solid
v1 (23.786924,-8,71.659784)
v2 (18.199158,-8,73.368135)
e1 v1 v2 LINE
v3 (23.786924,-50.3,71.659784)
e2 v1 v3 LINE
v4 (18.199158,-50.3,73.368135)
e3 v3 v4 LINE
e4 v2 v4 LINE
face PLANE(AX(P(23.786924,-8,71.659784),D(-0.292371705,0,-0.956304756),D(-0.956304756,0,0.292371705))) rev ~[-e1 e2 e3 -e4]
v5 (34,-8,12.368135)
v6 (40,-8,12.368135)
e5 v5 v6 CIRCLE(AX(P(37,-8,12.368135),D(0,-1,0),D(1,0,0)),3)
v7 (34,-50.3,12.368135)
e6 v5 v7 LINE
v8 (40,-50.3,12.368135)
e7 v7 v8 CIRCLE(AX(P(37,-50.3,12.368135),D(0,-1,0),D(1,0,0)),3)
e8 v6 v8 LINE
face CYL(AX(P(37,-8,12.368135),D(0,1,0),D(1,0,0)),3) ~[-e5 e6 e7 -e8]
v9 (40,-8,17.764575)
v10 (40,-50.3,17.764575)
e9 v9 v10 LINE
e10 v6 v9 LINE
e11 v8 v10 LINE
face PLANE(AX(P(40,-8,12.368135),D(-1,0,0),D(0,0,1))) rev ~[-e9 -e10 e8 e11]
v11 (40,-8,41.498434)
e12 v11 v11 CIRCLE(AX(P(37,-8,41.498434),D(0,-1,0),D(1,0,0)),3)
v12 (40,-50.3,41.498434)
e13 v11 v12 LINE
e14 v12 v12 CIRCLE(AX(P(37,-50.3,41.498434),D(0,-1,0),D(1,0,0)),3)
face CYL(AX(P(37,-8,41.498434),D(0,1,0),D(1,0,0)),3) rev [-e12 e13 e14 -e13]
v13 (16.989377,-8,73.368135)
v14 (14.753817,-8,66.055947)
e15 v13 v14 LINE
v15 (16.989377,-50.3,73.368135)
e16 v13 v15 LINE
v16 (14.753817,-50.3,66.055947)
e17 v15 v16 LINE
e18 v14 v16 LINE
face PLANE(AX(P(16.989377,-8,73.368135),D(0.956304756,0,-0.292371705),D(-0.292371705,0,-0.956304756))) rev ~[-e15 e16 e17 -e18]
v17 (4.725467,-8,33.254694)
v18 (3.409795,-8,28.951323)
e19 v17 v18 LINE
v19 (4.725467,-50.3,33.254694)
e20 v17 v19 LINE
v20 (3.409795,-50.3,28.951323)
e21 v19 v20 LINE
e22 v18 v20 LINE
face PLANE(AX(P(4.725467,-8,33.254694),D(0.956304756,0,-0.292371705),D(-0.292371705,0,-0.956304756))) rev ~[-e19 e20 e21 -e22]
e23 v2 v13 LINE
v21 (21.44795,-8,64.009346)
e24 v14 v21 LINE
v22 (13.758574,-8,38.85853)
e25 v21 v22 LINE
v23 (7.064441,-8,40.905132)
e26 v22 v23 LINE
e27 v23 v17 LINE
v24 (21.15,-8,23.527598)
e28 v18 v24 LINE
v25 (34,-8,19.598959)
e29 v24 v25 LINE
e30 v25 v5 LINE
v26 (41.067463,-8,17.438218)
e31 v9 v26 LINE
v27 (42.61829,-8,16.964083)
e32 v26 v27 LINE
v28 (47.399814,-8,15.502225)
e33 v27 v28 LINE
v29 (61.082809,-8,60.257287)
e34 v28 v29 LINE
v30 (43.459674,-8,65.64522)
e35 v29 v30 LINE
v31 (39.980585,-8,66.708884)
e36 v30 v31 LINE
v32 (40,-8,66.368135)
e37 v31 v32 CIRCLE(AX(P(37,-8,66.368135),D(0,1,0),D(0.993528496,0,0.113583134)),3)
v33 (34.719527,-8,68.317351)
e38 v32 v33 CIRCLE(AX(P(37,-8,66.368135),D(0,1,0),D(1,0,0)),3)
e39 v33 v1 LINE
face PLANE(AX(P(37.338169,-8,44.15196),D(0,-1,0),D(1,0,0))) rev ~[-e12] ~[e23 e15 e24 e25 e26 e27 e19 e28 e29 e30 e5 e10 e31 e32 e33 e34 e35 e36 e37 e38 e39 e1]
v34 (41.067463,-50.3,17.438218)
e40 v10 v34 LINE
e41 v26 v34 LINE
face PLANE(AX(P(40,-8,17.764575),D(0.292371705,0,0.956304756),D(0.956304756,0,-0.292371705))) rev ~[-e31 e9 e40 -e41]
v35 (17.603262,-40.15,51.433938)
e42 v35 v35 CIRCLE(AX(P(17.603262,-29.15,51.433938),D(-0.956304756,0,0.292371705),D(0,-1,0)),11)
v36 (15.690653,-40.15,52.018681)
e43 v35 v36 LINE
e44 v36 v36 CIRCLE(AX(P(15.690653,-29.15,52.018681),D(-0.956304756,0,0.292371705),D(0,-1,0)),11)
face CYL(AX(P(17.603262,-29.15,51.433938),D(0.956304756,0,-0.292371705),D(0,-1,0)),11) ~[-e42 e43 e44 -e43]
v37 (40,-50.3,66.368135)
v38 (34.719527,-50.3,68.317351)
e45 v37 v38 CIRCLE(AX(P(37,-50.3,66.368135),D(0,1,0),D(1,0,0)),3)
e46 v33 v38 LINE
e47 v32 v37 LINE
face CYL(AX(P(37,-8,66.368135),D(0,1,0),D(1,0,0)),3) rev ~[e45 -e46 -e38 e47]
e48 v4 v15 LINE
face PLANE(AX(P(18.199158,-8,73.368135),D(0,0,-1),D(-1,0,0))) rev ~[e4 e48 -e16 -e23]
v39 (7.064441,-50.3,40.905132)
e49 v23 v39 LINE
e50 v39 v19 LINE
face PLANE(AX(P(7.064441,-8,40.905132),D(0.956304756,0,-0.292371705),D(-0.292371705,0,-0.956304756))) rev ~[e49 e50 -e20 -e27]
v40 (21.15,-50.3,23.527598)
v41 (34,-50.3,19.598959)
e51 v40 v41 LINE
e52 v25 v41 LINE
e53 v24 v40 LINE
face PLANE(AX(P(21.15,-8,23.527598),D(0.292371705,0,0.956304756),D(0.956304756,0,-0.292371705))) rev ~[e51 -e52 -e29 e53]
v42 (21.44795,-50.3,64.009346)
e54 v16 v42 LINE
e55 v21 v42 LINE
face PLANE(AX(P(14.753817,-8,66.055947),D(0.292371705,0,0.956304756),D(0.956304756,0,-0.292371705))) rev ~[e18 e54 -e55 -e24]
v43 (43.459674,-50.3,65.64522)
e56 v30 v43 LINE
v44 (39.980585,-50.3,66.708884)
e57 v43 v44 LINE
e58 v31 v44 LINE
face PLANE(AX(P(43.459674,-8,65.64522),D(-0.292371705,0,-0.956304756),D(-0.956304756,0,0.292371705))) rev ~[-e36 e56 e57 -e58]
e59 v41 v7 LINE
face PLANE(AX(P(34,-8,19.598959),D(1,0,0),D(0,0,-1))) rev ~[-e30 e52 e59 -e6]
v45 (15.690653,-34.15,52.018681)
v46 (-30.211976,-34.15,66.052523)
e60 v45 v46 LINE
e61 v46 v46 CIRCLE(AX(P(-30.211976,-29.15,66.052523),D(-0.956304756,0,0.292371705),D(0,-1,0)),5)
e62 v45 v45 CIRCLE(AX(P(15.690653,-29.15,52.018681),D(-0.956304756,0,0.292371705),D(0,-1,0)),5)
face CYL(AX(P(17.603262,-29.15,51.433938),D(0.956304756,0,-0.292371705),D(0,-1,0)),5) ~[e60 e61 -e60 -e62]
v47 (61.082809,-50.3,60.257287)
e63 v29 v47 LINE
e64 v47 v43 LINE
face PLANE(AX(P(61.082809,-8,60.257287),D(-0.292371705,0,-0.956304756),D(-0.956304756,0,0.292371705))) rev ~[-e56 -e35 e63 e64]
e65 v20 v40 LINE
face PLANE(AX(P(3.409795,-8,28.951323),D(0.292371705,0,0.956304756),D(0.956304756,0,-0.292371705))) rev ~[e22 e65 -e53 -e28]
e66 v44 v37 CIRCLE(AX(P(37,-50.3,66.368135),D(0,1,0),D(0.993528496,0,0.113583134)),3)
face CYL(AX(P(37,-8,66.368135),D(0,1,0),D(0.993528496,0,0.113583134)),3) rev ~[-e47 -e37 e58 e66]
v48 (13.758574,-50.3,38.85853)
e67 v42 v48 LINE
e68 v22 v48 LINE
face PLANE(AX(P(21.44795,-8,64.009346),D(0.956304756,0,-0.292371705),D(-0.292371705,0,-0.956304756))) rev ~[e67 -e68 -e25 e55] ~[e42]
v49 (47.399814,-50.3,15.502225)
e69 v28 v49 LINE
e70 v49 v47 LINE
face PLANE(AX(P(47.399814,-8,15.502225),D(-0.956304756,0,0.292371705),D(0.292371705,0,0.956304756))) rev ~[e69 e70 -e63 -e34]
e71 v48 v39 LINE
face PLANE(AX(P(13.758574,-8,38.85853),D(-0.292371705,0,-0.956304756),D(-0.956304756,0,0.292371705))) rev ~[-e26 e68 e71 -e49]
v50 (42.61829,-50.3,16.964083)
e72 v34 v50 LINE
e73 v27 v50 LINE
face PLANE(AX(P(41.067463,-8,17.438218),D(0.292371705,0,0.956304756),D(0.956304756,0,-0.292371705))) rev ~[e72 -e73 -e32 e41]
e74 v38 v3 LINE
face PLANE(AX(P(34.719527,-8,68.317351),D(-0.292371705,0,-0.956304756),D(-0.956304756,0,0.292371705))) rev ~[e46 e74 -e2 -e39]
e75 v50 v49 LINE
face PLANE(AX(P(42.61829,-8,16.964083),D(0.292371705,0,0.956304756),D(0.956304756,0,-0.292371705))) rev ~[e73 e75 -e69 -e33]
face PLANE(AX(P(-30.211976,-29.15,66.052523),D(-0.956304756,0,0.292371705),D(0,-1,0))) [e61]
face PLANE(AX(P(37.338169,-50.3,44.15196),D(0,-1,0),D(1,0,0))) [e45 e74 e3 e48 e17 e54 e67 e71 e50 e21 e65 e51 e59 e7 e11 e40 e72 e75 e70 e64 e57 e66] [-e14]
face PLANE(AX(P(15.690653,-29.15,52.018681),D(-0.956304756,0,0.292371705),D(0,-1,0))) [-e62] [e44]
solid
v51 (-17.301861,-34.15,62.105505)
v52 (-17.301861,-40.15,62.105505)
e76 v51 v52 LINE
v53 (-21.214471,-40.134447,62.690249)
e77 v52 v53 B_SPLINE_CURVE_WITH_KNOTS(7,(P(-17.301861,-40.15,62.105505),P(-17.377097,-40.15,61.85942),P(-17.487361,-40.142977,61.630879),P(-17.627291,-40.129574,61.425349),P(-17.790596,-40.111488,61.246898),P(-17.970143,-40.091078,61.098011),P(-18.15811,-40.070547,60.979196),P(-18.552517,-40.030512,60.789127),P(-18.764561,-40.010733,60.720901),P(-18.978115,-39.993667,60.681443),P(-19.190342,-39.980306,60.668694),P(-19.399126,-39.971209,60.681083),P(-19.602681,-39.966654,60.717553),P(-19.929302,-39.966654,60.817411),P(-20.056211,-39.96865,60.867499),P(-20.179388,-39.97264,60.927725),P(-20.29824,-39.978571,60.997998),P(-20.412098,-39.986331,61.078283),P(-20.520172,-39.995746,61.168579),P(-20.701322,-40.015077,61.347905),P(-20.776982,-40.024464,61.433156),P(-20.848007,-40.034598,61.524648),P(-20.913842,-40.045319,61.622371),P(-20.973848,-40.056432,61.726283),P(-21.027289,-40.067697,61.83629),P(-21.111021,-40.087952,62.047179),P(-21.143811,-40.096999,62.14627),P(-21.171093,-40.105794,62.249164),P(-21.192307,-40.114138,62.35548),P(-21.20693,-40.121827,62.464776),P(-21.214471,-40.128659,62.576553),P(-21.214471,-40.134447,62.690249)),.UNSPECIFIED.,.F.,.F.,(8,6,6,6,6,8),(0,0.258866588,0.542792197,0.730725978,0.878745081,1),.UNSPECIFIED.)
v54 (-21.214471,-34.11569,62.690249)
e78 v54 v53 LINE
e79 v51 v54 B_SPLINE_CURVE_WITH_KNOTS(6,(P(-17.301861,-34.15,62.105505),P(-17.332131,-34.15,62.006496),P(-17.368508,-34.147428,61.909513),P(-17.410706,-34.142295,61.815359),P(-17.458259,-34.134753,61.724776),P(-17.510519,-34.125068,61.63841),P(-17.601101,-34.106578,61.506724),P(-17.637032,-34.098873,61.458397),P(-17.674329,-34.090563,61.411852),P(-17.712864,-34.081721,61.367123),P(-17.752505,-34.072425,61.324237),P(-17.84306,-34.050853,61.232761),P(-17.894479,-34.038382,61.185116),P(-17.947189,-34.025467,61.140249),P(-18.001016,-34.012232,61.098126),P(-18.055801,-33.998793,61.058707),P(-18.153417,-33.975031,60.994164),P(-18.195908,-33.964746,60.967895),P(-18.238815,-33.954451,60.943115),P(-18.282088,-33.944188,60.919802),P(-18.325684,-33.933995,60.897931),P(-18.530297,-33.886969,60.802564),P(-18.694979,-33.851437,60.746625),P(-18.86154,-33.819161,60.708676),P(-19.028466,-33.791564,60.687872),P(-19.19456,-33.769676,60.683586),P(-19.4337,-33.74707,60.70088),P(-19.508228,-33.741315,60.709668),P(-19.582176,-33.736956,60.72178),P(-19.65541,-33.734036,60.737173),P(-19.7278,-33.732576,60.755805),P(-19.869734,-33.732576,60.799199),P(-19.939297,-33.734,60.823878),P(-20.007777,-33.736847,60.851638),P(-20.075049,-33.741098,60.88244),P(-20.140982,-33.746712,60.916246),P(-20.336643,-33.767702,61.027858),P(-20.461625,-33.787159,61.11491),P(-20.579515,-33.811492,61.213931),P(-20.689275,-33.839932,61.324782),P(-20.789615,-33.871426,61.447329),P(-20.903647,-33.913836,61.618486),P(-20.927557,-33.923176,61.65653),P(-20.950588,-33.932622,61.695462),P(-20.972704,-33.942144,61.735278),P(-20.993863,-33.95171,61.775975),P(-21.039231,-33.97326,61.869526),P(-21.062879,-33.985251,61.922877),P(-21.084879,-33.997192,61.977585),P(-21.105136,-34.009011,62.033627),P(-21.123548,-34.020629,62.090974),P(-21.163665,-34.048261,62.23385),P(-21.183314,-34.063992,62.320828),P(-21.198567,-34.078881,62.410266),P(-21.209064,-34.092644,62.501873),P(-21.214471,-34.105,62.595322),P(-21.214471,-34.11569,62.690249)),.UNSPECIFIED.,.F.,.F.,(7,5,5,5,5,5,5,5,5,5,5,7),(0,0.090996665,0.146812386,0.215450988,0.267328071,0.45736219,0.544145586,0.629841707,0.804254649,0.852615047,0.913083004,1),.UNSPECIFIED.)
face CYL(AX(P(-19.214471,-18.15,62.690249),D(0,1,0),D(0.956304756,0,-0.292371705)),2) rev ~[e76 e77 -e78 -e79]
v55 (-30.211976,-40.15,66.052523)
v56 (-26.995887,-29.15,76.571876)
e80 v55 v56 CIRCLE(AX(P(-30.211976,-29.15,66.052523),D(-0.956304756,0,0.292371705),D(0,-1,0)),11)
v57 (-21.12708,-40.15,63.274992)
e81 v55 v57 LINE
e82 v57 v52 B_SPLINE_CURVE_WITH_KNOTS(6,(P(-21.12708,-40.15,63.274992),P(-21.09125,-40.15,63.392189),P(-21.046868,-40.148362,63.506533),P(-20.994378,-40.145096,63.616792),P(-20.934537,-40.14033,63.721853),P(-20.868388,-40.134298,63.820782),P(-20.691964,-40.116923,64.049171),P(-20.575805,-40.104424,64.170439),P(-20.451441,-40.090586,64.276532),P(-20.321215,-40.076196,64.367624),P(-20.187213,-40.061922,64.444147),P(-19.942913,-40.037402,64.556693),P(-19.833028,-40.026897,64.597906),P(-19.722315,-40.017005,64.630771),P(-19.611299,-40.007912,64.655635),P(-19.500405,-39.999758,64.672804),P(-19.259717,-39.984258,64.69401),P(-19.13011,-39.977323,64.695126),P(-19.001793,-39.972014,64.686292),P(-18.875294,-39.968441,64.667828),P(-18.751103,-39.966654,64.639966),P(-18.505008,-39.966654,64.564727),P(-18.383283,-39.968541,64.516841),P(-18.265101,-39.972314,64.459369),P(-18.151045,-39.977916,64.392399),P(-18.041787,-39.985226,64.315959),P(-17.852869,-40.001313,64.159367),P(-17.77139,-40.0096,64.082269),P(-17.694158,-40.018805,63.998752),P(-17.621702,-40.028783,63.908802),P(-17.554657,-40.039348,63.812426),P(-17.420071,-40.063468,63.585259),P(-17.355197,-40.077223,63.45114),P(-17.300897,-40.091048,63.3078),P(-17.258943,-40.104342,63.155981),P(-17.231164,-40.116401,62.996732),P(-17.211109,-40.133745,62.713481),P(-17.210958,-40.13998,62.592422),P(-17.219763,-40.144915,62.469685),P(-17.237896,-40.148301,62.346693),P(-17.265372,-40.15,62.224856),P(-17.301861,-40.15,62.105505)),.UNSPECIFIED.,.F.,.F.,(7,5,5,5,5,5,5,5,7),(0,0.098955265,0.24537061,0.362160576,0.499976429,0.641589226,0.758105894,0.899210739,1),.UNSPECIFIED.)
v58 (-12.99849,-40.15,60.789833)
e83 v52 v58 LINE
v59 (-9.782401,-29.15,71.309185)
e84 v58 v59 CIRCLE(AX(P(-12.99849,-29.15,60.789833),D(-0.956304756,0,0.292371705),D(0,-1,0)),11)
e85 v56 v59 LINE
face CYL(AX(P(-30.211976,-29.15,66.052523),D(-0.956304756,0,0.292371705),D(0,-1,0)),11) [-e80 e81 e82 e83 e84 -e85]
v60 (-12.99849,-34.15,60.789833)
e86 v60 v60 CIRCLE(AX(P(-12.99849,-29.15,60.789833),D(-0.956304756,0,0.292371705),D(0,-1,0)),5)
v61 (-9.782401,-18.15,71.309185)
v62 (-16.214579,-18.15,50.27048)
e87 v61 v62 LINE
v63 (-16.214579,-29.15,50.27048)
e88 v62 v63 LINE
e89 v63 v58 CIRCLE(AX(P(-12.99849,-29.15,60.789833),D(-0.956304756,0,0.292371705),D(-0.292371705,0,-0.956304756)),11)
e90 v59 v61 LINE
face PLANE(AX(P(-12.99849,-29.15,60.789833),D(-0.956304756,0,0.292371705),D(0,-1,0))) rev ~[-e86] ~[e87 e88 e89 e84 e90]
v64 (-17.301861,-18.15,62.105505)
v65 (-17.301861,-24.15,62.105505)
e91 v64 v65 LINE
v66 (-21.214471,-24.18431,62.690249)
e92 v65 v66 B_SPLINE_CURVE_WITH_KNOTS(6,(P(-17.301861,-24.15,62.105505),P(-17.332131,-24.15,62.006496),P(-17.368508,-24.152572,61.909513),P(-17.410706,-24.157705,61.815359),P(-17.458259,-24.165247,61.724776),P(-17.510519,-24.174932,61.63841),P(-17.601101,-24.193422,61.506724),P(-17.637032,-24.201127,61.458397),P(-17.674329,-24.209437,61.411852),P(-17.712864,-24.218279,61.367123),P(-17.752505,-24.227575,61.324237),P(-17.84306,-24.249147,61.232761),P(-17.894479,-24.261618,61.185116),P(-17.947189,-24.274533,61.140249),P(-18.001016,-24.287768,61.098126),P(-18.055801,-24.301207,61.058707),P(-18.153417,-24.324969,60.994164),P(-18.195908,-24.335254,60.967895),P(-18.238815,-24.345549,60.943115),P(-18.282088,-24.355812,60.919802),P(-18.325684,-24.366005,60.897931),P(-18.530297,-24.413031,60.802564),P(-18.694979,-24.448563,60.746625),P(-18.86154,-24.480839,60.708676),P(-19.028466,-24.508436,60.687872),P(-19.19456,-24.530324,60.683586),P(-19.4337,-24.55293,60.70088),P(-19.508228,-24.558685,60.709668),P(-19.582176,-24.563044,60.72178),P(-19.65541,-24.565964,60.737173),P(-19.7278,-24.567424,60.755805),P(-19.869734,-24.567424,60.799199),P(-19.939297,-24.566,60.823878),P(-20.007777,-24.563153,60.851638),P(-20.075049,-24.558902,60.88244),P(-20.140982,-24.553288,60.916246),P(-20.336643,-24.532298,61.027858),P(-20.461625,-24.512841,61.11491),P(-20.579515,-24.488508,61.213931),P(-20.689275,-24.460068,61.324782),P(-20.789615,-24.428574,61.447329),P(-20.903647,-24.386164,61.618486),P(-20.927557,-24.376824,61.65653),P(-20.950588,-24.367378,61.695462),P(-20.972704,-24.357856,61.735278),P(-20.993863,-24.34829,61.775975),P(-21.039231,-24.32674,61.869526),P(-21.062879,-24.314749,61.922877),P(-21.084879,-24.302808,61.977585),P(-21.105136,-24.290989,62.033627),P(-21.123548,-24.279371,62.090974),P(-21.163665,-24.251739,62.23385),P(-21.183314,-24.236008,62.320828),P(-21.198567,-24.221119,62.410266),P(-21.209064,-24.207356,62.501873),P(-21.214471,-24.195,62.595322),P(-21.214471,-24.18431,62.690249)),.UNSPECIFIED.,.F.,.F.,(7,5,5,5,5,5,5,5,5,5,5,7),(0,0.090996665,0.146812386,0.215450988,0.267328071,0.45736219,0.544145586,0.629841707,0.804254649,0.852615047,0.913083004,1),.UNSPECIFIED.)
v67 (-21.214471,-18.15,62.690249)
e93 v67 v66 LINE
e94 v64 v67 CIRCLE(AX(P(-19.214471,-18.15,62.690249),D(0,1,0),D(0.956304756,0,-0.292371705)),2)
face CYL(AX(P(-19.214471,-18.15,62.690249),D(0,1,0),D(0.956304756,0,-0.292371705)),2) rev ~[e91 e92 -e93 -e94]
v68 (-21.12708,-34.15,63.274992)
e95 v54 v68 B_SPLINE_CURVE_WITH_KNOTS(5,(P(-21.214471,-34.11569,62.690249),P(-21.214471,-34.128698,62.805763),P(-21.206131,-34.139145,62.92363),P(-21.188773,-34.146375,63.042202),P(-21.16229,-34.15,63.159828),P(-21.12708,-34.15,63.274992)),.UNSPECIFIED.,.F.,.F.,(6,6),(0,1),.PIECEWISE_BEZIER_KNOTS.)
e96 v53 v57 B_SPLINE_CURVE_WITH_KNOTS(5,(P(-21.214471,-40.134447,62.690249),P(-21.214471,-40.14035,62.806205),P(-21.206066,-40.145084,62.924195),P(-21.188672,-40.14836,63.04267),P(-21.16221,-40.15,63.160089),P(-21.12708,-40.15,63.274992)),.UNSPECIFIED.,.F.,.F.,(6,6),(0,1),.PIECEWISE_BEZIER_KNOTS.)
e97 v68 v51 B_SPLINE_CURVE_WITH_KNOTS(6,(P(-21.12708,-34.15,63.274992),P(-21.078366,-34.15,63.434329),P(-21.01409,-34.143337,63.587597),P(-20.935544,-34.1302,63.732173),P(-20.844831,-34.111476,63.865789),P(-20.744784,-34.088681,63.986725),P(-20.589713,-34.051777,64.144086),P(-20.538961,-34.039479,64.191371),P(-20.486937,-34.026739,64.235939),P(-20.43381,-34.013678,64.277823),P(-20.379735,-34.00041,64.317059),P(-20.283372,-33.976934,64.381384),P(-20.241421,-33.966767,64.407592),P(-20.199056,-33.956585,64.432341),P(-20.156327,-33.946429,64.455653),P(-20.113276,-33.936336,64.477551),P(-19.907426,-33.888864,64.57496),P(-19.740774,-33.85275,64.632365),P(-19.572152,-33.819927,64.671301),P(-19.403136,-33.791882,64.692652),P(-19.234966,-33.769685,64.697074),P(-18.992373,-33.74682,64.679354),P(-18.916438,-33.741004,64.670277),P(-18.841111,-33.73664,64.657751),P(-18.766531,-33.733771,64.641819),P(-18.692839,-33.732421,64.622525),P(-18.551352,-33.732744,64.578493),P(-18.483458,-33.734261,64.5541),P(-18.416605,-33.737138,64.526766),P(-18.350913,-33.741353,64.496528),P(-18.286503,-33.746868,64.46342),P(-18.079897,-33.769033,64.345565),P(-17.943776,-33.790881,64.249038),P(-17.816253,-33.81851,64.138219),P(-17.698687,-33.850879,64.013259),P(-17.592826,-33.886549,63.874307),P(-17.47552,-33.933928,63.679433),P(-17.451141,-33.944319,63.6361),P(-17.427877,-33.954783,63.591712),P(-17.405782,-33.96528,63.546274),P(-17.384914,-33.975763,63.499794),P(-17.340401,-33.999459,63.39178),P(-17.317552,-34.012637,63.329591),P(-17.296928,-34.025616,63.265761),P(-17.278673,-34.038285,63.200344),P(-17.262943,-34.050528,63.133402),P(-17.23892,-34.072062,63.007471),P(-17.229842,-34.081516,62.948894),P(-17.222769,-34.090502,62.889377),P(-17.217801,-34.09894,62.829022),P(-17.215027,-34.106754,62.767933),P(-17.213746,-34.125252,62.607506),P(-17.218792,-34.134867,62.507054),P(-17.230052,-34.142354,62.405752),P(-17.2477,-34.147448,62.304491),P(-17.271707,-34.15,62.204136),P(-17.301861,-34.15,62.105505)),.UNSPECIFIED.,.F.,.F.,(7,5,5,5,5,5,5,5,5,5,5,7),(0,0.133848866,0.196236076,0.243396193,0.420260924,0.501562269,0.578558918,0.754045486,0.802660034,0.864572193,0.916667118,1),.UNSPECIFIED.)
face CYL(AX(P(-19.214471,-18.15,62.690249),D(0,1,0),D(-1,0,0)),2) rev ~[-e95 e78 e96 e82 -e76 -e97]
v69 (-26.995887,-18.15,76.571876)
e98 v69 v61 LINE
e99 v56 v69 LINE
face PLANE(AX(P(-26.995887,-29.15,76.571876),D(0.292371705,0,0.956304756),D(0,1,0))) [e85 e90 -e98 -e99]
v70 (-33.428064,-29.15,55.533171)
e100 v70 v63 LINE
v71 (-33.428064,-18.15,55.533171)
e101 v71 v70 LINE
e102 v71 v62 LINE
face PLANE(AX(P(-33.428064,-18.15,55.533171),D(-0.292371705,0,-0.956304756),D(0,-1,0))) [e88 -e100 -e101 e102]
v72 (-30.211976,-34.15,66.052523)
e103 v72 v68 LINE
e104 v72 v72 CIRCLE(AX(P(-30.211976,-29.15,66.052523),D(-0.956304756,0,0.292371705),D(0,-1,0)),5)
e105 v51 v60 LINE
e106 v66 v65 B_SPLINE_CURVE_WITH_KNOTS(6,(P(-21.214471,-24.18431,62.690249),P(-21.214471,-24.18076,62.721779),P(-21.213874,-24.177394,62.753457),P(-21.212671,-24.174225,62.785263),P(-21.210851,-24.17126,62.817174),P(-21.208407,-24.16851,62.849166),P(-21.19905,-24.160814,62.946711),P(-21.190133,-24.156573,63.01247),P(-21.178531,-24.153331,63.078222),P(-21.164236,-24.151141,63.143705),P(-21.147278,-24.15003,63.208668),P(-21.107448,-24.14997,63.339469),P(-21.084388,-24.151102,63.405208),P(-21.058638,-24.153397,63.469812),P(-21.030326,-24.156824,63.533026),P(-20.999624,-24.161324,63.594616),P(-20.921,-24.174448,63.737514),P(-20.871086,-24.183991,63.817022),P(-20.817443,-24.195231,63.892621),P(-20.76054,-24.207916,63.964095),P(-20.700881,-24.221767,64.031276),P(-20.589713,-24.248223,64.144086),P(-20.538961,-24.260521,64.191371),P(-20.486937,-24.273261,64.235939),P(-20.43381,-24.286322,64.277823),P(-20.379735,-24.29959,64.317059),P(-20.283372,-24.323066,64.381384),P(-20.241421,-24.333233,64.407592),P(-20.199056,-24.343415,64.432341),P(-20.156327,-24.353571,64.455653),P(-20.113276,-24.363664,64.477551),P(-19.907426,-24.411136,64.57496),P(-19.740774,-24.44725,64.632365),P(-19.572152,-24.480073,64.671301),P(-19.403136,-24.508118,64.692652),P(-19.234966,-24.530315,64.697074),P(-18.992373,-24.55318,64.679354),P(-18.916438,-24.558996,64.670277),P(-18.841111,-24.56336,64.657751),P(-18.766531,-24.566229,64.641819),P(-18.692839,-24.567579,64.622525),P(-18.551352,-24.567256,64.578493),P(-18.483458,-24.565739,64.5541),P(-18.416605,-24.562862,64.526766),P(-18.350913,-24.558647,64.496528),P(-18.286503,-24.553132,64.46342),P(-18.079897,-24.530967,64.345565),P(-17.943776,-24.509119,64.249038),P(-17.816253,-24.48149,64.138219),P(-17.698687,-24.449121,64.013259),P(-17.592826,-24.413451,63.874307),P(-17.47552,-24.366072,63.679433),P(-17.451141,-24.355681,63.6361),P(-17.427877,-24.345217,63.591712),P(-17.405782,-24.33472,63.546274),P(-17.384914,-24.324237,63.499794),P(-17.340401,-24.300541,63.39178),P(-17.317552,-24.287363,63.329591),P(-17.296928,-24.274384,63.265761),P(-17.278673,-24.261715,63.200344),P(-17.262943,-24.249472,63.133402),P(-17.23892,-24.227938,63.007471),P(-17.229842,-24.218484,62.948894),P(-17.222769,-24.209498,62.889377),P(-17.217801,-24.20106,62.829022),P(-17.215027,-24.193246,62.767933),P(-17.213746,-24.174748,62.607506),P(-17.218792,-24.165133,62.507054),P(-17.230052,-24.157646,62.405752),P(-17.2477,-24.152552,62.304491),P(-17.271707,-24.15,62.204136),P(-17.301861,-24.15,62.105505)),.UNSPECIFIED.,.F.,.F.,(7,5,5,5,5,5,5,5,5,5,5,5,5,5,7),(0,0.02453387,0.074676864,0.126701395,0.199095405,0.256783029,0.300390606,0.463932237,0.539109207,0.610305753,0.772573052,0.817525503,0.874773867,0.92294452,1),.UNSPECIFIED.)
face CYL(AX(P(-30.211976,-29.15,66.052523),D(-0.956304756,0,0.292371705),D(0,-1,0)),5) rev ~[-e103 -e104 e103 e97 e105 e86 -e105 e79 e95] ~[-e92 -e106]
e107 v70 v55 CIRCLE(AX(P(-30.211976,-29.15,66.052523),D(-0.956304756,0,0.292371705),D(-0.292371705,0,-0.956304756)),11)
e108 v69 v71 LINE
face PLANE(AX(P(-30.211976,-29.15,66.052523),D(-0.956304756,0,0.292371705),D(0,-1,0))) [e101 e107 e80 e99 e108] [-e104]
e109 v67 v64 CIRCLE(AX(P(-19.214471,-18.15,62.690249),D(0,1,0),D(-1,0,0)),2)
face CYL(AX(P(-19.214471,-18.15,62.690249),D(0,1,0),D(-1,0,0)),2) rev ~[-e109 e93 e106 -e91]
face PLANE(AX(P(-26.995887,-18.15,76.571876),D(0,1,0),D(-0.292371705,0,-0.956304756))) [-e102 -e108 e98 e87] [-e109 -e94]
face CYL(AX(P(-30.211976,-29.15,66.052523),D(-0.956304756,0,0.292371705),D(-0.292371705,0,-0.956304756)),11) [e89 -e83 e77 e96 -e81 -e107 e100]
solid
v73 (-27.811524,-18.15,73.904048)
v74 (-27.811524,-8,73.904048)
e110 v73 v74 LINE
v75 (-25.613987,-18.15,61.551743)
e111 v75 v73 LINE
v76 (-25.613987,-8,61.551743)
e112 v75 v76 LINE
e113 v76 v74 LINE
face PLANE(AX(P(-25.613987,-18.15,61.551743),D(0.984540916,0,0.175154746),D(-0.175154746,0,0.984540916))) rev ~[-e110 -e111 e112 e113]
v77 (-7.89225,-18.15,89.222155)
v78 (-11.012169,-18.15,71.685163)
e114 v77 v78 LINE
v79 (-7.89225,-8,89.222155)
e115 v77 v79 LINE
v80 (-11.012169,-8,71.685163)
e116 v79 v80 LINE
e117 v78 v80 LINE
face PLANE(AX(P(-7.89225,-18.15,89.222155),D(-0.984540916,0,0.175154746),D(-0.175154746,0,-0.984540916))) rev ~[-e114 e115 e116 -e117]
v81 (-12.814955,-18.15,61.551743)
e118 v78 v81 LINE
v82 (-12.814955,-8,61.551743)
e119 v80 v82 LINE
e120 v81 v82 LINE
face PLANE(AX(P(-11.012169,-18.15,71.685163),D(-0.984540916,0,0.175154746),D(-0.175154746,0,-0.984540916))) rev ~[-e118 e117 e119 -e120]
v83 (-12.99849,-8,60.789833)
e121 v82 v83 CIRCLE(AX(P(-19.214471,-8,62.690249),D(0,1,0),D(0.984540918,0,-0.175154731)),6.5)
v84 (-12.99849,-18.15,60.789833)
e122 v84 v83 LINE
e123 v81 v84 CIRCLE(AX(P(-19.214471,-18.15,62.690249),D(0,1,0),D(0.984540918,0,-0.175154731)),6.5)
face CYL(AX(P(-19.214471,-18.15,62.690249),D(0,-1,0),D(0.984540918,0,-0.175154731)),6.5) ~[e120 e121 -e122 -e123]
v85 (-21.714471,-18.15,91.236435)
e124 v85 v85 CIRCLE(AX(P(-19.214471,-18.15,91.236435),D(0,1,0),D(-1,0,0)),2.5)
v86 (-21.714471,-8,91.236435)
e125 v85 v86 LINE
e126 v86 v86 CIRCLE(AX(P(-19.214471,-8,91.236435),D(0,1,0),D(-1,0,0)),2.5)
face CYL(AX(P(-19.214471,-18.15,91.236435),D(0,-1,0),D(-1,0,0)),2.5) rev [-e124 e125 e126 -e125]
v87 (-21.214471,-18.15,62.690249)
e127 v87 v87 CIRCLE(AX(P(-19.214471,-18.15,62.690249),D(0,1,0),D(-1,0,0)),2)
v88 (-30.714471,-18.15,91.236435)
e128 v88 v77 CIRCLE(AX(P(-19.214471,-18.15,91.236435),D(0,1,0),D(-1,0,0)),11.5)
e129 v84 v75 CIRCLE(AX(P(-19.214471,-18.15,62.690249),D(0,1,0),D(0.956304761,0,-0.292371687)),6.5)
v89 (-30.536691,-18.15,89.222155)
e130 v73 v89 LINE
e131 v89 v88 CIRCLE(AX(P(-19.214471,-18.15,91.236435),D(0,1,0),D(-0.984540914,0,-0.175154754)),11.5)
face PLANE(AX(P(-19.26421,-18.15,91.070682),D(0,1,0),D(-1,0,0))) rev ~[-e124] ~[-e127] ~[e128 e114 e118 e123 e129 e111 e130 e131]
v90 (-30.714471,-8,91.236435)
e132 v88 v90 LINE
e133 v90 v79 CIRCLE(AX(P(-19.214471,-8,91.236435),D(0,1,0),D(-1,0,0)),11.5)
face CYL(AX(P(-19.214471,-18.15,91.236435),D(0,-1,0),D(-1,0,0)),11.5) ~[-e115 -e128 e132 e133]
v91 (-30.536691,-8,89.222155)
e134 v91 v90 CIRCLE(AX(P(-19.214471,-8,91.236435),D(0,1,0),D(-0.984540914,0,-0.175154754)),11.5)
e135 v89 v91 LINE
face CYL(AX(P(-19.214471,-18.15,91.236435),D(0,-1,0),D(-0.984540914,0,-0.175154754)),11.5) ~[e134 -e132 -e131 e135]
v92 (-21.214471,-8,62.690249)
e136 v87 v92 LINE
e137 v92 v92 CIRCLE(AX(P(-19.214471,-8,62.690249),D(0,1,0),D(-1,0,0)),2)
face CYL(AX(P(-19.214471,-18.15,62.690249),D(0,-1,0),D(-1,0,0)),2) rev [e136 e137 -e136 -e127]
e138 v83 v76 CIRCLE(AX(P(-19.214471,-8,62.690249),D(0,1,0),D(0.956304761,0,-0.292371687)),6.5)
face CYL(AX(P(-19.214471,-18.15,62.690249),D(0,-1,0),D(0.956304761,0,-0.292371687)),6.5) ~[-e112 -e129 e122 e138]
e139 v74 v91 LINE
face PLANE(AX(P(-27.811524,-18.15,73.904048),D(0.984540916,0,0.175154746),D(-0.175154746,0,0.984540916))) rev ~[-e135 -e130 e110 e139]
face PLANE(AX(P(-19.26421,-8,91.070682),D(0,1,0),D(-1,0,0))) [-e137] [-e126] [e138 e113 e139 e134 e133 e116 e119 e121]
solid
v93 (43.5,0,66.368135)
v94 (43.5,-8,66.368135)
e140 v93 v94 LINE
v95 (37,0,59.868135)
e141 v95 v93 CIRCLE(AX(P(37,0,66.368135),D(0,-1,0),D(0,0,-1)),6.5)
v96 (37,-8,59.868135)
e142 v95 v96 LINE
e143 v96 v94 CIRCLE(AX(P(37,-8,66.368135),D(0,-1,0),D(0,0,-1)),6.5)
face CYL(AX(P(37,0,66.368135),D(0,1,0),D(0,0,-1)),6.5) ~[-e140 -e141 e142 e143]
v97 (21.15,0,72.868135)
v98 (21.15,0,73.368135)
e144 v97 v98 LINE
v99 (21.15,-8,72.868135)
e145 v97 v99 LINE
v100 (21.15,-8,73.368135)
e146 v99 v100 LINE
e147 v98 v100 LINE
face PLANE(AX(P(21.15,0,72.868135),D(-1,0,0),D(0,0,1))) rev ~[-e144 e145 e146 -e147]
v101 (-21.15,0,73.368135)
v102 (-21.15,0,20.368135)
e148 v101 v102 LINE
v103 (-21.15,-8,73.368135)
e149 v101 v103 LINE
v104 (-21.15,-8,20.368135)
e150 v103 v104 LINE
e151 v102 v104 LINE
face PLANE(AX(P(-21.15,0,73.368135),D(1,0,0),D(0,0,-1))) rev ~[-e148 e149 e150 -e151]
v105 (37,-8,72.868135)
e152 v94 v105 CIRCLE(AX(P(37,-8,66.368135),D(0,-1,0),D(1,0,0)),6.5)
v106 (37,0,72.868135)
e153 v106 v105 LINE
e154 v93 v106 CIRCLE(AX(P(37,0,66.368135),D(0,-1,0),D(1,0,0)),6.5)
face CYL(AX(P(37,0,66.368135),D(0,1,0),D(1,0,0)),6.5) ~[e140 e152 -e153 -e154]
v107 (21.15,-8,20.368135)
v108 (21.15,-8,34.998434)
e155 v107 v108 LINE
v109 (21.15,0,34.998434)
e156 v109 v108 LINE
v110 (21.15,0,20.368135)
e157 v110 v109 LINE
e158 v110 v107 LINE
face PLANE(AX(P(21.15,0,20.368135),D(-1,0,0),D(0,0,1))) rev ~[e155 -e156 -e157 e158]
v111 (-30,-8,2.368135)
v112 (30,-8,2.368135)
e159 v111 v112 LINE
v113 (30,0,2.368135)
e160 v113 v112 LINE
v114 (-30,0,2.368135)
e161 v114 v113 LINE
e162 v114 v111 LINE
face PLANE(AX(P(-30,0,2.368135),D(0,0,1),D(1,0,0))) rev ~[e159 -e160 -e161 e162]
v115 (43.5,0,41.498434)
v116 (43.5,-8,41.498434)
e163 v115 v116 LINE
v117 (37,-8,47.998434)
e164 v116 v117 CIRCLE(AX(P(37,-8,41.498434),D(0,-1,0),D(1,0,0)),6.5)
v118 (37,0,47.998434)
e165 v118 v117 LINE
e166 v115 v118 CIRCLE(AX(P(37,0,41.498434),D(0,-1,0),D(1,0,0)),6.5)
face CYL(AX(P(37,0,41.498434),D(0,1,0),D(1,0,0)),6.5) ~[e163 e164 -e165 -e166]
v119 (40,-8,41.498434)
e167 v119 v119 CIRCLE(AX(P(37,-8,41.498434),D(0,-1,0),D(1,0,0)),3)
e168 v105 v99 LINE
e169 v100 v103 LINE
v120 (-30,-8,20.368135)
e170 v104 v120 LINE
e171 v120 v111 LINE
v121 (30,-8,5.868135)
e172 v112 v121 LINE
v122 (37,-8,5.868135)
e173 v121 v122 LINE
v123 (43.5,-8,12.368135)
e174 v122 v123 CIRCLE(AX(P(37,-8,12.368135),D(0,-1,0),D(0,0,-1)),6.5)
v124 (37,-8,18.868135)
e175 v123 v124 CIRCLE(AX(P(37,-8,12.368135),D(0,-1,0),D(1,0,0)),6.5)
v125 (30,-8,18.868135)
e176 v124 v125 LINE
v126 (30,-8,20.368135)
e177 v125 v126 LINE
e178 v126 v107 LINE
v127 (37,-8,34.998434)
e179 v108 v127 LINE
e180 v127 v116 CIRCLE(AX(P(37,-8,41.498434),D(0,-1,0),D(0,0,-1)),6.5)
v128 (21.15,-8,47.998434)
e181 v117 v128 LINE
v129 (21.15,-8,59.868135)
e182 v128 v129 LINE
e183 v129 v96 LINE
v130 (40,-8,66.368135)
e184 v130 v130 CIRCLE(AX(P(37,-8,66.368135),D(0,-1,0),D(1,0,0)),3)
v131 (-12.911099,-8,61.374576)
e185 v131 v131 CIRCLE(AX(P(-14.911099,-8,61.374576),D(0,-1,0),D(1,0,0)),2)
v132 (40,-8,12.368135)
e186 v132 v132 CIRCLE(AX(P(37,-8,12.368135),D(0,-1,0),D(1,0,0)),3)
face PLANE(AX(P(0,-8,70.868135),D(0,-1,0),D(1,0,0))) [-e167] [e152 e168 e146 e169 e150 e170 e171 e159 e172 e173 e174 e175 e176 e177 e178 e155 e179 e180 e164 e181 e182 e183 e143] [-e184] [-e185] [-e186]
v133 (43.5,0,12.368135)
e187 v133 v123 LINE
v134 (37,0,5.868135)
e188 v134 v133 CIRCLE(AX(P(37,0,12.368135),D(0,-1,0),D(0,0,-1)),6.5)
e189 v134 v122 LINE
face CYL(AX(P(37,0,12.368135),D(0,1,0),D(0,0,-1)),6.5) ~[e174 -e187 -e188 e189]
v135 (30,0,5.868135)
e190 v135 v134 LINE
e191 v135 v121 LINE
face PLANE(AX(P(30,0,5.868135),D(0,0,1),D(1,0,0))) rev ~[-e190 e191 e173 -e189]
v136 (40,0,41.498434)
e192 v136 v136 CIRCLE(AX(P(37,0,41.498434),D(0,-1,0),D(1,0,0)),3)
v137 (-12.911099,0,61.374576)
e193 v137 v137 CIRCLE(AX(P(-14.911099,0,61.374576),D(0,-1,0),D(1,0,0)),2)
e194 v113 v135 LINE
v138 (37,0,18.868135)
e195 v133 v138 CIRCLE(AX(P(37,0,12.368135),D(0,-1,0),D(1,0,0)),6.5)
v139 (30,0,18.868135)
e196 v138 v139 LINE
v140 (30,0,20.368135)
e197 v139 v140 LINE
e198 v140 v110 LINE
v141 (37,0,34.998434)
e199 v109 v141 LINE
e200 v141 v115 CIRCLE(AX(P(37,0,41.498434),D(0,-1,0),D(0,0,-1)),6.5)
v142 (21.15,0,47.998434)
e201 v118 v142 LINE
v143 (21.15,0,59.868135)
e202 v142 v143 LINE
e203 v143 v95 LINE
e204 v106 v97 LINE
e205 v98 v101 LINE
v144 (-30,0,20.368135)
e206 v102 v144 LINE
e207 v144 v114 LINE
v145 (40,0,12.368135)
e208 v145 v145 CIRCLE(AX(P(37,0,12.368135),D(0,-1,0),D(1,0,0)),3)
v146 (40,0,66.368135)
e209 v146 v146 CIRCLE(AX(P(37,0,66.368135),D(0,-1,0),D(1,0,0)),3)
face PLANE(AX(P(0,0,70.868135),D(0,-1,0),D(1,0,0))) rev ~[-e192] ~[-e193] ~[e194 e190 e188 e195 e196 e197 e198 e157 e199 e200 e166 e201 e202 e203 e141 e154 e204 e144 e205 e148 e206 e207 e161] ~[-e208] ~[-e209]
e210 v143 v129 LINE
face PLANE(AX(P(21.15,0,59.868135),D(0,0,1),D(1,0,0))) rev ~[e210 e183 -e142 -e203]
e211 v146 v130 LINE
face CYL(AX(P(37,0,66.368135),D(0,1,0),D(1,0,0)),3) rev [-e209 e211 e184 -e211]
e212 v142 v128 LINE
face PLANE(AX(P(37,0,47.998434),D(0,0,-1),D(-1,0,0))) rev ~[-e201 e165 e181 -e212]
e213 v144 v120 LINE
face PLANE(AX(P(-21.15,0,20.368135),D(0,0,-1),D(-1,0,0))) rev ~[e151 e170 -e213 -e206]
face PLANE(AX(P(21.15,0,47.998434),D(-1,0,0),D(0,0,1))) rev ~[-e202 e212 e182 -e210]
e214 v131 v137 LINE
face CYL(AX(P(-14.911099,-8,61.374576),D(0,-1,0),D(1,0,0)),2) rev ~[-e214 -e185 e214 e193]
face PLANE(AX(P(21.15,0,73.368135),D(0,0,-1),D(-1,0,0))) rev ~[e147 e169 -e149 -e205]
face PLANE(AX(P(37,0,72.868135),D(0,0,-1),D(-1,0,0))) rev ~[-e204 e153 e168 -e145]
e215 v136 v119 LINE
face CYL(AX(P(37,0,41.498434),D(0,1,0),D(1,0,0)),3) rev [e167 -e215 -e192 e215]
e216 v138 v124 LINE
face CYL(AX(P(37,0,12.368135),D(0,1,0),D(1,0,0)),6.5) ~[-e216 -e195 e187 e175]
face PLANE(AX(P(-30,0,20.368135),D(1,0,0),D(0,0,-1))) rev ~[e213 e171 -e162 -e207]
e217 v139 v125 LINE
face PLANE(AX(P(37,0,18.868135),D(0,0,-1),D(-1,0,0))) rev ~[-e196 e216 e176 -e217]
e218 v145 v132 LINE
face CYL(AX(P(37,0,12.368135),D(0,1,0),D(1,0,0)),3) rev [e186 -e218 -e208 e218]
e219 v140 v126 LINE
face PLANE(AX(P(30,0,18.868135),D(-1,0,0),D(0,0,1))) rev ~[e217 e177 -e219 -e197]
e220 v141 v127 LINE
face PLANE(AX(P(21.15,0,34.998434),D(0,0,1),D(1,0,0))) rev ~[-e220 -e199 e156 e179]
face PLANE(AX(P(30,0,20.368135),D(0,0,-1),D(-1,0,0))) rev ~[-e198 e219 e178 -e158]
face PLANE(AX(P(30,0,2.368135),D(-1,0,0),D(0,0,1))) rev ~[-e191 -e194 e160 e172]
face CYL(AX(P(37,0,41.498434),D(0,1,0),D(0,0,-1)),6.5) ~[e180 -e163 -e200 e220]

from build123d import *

# Parameters (mm, degrees)
F0_R      = 3
F1_DEPTH  = 8
F2_R      = 3
F3_DEPTH  = 42.3
F4_R      = 5
F5_DEPTH  = 50
F6_R      = 5
F7_DEPTH  = 18
F8_R      = 11
F8_R_2    = 5
F9_DEPTH  = 2
F11_DEPTH = 25
F12_R     = 2.5
F12_R_2   = 2
F13_DEPTH = 10.15
F14_R     = 2
F15_DEPTH = 25


with BuildPart() as f1:
    # F0 (on Front) → F1 (new body)
    with BuildSketch(Plane.XZ):
        Polygon((-21.15, 73.3681349903), (-21.15, 68.3681349903), (21.15, 68.3681349903), (21.15, 72.8681349903), (21.15, 73.3681349903), align=None)
        Polygon((-21.15, 20.3681349903), (21.15, 20.3681349903), (21.15, 34.9984337986), (21.15, 47.9984337986), (21.15, 59.8681349903), (21.15, 68.3681349903), (-21.15, 68.3681349903), align=None)
        Polygon((30, 20.3681349903), (21.15, 20.3681349903), (-21.15, 20.3681349903), (-30, 20.3681349903), (-30, 2.3681349903), (30, 2.3681349903), (30, 5.8681349903), (30, 18.8681349903), align=None)
        with BuildLine():
            Line((37, 18.8681349903), (30, 18.8681349903))
            Line((30, 18.8681349903), (30, 5.8681349903))
            Line((30, 5.8681349903), (37, 5.8681349903))
            ThreePointArc((37, 5.8681349903), (30.5, 12.3681349903), (37, 18.8681349903))
        make_face()
        with BuildLine():
            ThreePointArc((43.5, 12.3681349903), (41.5961940777, 16.964329068), (37, 18.8681349903))
            ThreePointArc((37, 18.8681349903), (30.5, 12.3681349903), (37, 5.8681349903))
            ThreePointArc((37, 5.8681349903), (41.5961940777, 7.7719409126), (43.5, 12.3681349903))
        make_face()
        with Locations((37, 12.3681349903)):
            Circle(F0_R, mode=Mode.SUBTRACT)
        with BuildLine():
            Line((21.15, 72.8681349903), (21.15, 68.3681349903))
            Line((21.15, 68.3681349903), (21.15, 59.8681349903))
            Line((21.15, 59.8681349903), (37, 59.8681349903))
            ThreePointArc((37, 59.8681349903), (30.5, 66.3681349903), (37, 72.8681349903))
            Line((37, 72.8681349903), (21.15, 72.8681349903))
        make_face()
        with BuildLine():
            ThreePointArc((37, 72.8681349903), (30.5, 66.3681349903), (37, 59.8681349903))
            ThreePointArc((37, 59.8681349903), (41.5961940777, 61.7719409126), (43.5, 66.3681349903))
            ThreePointArc((43.5, 66.3681349903), (41.5961940777, 70.964329068), (37, 72.8681349903))
        make_face()
        with Locations((37, 66.3681349903)):
            Circle(F0_R, mode=Mode.SUBTRACT)
        with BuildLine():
            ThreePointArc((37, 47.9984337986), (30.5, 41.4984337986), (37, 34.9984337986))
            ThreePointArc((37, 34.9984337986), (41.5961940777, 36.9022397208), (43.5, 41.4984337986))
            ThreePointArc((43.5, 41.4984337986), (41.5961940777, 46.0946278763), (37, 47.9984337986))
        make_face()
        with Locations((37, 41.4984337986)):
            Circle(F0_R, mode=Mode.SUBTRACT)
        with BuildLine():
            Line((21.15, 47.9984337986), (21.15, 34.9984337986))
            Line((21.15, 34.9984337986), (37, 34.9984337986))
            ThreePointArc((37, 34.9984337986), (30.5, 41.4984337986), (37, 47.9984337986))
            Line((37, 47.9984337986), (21.15, 47.9984337986))
        make_face()
    extrude(amount=F1_DEPTH)

    # F14 (on face) → F15 (cut)
    with BuildSketch(Plane.XZ.offset(8)):
        with Locations((-14.9110994137, 61.3745759752)):
            Circle(F14_R)
    extrude(amount=-F15_DEPTH, mode=Mode.SUBTRACT)


with BuildPart() as f3:
    # F2 (on face) → F3 (new body)
    with BuildSketch(Plane.XZ.offset(8)):
        with BuildLine():
            Line((21.15, 28.2332108276), (43.9339624369, 21.2674544655))
            Line((43.9339624369, 21.2674544655), (56.3012855467, 61.7191456427))
            Line((56.3012855467, 61.7191456427), (43.4596744605, 65.6452201511))
            ThreePointArc((43.4596744605, 65.6452201511), (41.3330735942, 61.5230887339), (37, 59.8681349903))
            Line((37, 59.8681349903), (21.15, 59.8681349903))
            Line((21.15, 59.8681349903), (21.15, 47.9984337986))
            Line((21.15, 47.9984337986), (37, 47.9984337986))
            ThreePointArc((37, 47.9984337986), (43.5, 41.4984337986), (37, 34.9984337986))
            Line((37, 34.9984337986), (21.15, 34.9984337986))
            Line((21.15, 34.9984337986), (21.15, 28.2332108276))
        make_face()
        with BuildLine():
            Line((11.4196007342, 31.2080924261), (21.15, 28.2332108276))
            Line((21.15, 28.2332108276), (21.15, 34.9984337986))
            Line((21.15, 34.9984337986), (37, 34.9984337986))
            ThreePointArc((37, 34.9984337986), (43.5, 41.4984337986), (37, 47.9984337986))
            Line((37, 47.9984337986), (21.15, 47.9984337986))
            Line((21.15, 47.9984337986), (21.15, 59.8681349903))
            Line((21.15, 59.8681349903), (37, 59.8681349903))
            ThreePointArc((37, 59.8681349903), (41.3330735942, 61.5230887339), (43.4596744605, 65.6452201511))
            Line((43.4596744605, 65.6452201511), (39.9805854868, 66.7088843939))
            ThreePointArc((39.9805854868, 66.7088843939), (39.995142439, 66.538786008), (40, 66.3681349903))
            ThreePointArc((40, 66.3681349903), (35.9611107194, 63.55375956), (34.7195272916, 68.3173513011))
            Line((34.7195272916, 68.3173513011), (23.786923844, 71.6597836033))
            Line((23.786923844, 71.6597836033), (21.4479502062, 64.0093455556))
            Line((21.4479502062, 64.0093455556), (13.758574372, 38.8585304738))
            Line((13.758574372, 38.8585304738), (11.4196007342, 31.2080924261))
        make_face()
        with Locations((37, 41.4984337986)):
            Circle(F2_R, mode=Mode.SUBTRACT)
        Polygon((14.7538169144, 66.0559474886), (21.4479502062, 64.0093455556), (23.786923844, 71.6597836033), (18.1991582363, 73.3681349903), (16.9893769823, 73.3681349903), align=None)
        Polygon((7.0644410802, 40.9051324068), (4.7254674424, 33.2546943591), (11.4196007342, 31.2080924261), (13.758574372, 38.8585304738), align=None)
        Polygon((3.4097947712, 28.9513229573), (21.15, 23.5275979235), (21.15, 28.2332108276), (11.4196007342, 31.2080924261), (4.7254674424, 33.2546943591), align=None)
        with BuildLine():
            Line((34, 19.5989586667), (36.3904165355, 18.8681349903))
            Line((36.3904165355, 18.8681349903), (37, 18.8681349903))
            ThreePointArc((37, 18.8681349903), (39.1557432081, 18.500244841), (41.0674628191, 17.4382184429))
            Line((41.0674628191, 17.4382184429), (42.6182897657, 16.9640830636))
            Line((42.6182897657, 16.9640830636), (43.9339624369, 21.2674544655))
            Line((43.9339624369, 21.2674544655), (21.15, 28.2332108276))
            Line((21.15, 28.2332108276), (21.15, 23.5275979235))
            Line((21.15, 23.5275979235), (34, 19.5989586667))
        make_face()
        with BuildLine():
            ThreePointArc((34, 12.3681349903), (37, 9.3681349903), (40, 12.3681349903))
            ThreePointArc((40, 12.3681349903), (37, 15.3681349903), (34, 12.3681349903))
        make_face()
        with BuildLine():
            ThreePointArc((34, 12.3681349903), (37, 15.3681349903), (40, 12.3681349903))
            Line((40, 12.3681349903), (40, 17.764574578))
            Line((40, 17.764574578), (36.3904165355, 18.8681349903))
            Line((36.3904165355, 18.8681349903), (34, 18.8681349903))
            Line((34, 18.8681349903), (34, 12.3681349903))
        make_face()
        with BuildLine():
            Line((36.3904165355, 18.8681349903), (40, 17.764574578))
            Line((40, 17.764574578), (41.0674628191, 17.4382184429))
            ThreePointArc((41.0674628191, 17.4382184429), (39.1557432081, 18.500244841), (37, 18.8681349903))
            Line((37, 18.8681349903), (36.3904165355, 18.8681349903))
        make_face()
        Polygon((34, 19.5989586667), (34, 18.8681349903), (36.3904165355, 18.8681349903), align=None)
        Polygon((43.9339624369, 21.2674544655), (42.6182897657, 16.9640830636), (47.3998135455, 15.50222454), (61.0828093265, 60.2572871191), (56.3012855467, 61.7191456427), align=None)
    extrude(amount=F3_DEPTH)

    # F4 (on face) → F5 (join)
    with BuildSketch(Plane(origin=(1.7177674954, 0, -0.525174227), x_dir=(0, -1, 0), z_dir=(-0.956304756, 0, 0.2923717047))):
        with Locations((29.15, 54.3332153455)):
            Circle(F4_R)
    extrude(amount=F5_DEPTH)

    # F8 (on face) → F9 (join)
    with BuildSketch(Plane(origin=(1.7177674954, 0, -0.525174227), x_dir=(0, -1, 0), z_dir=(-0.956304756, 0, 0.2923717047))):
        with Locations((29.15, 54.3332153455)):
            Circle(F8_R)
        with Locations((29.15, 54.3332153455)):
            Circle(F8_R_2, mode=Mode.SUBTRACT)
    extrude(amount=F9_DEPTH)


with BuildPart() as f7:
    # F6 (on face) → F7 (new body)
    with BuildSketch(Plane(origin=(-46.0974703027, 0, 14.0934110092), x_dir=(0, -1, 0), z_dir=(-0.956304756, 0, 0.2923717047))):
        with BuildLine():
            ThreePointArc((29.15, 43.3332153455), (36.9281745931, 46.5550407524), (40.15, 54.3332153455))
            ThreePointArc((40.15, 54.3332153455), (36.9281745931, 62.1113899385), (29.15, 65.3332153455))
            ThreePointArc((29.15, 65.3332153455), (21.3718254069, 62.1113899385), (18.15, 54.3332153455))
            ThreePointArc((18.15, 54.3332153455), (21.3718254069, 46.5550407524), (29.15, 43.3332153455))
        make_face()
        with Locations((29.15, 54.3332153455)):
            Circle(F6_R, mode=Mode.SUBTRACT)
        with BuildLine():
            ThreePointArc((18.15, 54.3332153455), (21.3718254069, 62.1113899385), (29.15, 65.3332153455))
            Line((29.15, 65.3332153455), (18.15, 65.3332153455))
            Line((18.15, 65.3332153455), (18.15, 54.3332153455))
        make_face()
        with BuildLine():
            Line((18.15, 43.3332153455), (29.15, 43.3332153455))
            ThreePointArc((29.15, 43.3332153455), (21.3718254069, 46.5550407524), (18.15, 54.3332153455))
            Line((18.15, 54.3332153455), (18.15, 43.3332153455))
        make_face()
    extrude(amount=-F7_DEPTH)

    # F10 (on face) → F11 (cut)
    with BuildSketch(Plane(origin=(0, -18.15, 0), x_dir=(-1, 0, 0), z_dir=(0, 1, 0))):
        with BuildLine():
            ThreePointArc((21.2144708155, 62.6902486465), (18.9188519932, 64.6682803732), (17.3018613036, 62.105505237))
            ThreePointArc((17.3018613036, 62.105505237), (19.5100896378, 60.7122169198), (21.2144708155, 62.6902486465))
        make_face()
    extrude(amount=-F11_DEPTH, mode=Mode.SUBTRACT)


with BuildPart() as f13:
    # F12 (on face) → F13 (new body, through all)
    with BuildSketch(Plane(origin=(0, -18.15, 0), x_dir=(-1, 0, 0), z_dir=(0, 1, 0))):
        with BuildLine():
            ThreePointArc((30.7144708155, 91.2364348769), (18.2034159592, 102.6919037926), (7.8922502803, 89.2221553154))
            ThreePointArc((7.8922502803, 89.2221553154), (19.2144707625, 79.7364348769), (30.5366913321, 89.2221552109))
            ThreePointArc((30.5366913321, 89.2221552109), (30.6699397265, 90.2253799677), (30.7144708155, 91.2364348769))
        make_face()
        with Locations((19.2144708155, 91.2364348769)):
            Circle(F12_R, mode=Mode.SUBTRACT)
        with BuildLine():
            Line((7.8922502803, 89.2221553154), (11.0121688692, 71.6851626043))
            Line((11.0121688692, 71.6851626043), (26.9958867571, 76.5718755664))
            Line((26.9958867571, 76.5718755664), (27.811523534, 73.904047879))
            Line((27.811523534, 73.904047879), (30.5366913321, 89.2221552109))
            ThreePointArc((30.5366913321, 89.2221552109), (19.2144707625, 79.7364348769), (7.8922502803, 89.2221553154))
        make_face()
        with BuildLine():
            ThreePointArc((25.6139867517, 61.5517427032), (25.6893010675, 62.1187828055), (25.7144708155, 62.6902486465))
            ThreePointArc((25.7144708155, 62.6902486465), (18.6430050699, 69.1650789069), (12.8149548458, 61.5517428919))
            ThreePointArc((12.8149548458, 61.5517428919), (12.8952289767, 61.1680191688), (12.9984898668, 60.7898326801))
            ThreePointArc((12.9984898668, 60.7898326801), (19.6063228204, 56.2020707816), (25.6139867517, 61.5517427032))
        make_face()
        with Locations((19.2144708155, 62.6902486465)):
            Circle(F12_R_2, mode=Mode.SUBTRACT)
        with BuildLine():
            ThreePointArc((12.8149548458, 61.5517428919), (18.6430050699, 69.1650789069), (25.7144708155, 62.6902486465))
            ThreePointArc((25.7144708155, 62.6902486465), (25.6893010675, 62.1187828055), (25.6139867517, 61.5517427032))
            Line((25.6139867517, 61.5517427032), (27.811523534, 73.904047879))
            Line((27.811523534, 73.904047879), (26.9958867571, 76.5718755664))
            Line((26.9958867571, 76.5718755664), (11.0121688692, 71.6851626043))
            Line((11.0121688692, 71.6851626043), (12.8149548458, 61.5517428919))
        make_face()
    extrude(amount=F13_DEPTH)


solid = Compound([f1.part, f3.part, f7.part, f13.part])
